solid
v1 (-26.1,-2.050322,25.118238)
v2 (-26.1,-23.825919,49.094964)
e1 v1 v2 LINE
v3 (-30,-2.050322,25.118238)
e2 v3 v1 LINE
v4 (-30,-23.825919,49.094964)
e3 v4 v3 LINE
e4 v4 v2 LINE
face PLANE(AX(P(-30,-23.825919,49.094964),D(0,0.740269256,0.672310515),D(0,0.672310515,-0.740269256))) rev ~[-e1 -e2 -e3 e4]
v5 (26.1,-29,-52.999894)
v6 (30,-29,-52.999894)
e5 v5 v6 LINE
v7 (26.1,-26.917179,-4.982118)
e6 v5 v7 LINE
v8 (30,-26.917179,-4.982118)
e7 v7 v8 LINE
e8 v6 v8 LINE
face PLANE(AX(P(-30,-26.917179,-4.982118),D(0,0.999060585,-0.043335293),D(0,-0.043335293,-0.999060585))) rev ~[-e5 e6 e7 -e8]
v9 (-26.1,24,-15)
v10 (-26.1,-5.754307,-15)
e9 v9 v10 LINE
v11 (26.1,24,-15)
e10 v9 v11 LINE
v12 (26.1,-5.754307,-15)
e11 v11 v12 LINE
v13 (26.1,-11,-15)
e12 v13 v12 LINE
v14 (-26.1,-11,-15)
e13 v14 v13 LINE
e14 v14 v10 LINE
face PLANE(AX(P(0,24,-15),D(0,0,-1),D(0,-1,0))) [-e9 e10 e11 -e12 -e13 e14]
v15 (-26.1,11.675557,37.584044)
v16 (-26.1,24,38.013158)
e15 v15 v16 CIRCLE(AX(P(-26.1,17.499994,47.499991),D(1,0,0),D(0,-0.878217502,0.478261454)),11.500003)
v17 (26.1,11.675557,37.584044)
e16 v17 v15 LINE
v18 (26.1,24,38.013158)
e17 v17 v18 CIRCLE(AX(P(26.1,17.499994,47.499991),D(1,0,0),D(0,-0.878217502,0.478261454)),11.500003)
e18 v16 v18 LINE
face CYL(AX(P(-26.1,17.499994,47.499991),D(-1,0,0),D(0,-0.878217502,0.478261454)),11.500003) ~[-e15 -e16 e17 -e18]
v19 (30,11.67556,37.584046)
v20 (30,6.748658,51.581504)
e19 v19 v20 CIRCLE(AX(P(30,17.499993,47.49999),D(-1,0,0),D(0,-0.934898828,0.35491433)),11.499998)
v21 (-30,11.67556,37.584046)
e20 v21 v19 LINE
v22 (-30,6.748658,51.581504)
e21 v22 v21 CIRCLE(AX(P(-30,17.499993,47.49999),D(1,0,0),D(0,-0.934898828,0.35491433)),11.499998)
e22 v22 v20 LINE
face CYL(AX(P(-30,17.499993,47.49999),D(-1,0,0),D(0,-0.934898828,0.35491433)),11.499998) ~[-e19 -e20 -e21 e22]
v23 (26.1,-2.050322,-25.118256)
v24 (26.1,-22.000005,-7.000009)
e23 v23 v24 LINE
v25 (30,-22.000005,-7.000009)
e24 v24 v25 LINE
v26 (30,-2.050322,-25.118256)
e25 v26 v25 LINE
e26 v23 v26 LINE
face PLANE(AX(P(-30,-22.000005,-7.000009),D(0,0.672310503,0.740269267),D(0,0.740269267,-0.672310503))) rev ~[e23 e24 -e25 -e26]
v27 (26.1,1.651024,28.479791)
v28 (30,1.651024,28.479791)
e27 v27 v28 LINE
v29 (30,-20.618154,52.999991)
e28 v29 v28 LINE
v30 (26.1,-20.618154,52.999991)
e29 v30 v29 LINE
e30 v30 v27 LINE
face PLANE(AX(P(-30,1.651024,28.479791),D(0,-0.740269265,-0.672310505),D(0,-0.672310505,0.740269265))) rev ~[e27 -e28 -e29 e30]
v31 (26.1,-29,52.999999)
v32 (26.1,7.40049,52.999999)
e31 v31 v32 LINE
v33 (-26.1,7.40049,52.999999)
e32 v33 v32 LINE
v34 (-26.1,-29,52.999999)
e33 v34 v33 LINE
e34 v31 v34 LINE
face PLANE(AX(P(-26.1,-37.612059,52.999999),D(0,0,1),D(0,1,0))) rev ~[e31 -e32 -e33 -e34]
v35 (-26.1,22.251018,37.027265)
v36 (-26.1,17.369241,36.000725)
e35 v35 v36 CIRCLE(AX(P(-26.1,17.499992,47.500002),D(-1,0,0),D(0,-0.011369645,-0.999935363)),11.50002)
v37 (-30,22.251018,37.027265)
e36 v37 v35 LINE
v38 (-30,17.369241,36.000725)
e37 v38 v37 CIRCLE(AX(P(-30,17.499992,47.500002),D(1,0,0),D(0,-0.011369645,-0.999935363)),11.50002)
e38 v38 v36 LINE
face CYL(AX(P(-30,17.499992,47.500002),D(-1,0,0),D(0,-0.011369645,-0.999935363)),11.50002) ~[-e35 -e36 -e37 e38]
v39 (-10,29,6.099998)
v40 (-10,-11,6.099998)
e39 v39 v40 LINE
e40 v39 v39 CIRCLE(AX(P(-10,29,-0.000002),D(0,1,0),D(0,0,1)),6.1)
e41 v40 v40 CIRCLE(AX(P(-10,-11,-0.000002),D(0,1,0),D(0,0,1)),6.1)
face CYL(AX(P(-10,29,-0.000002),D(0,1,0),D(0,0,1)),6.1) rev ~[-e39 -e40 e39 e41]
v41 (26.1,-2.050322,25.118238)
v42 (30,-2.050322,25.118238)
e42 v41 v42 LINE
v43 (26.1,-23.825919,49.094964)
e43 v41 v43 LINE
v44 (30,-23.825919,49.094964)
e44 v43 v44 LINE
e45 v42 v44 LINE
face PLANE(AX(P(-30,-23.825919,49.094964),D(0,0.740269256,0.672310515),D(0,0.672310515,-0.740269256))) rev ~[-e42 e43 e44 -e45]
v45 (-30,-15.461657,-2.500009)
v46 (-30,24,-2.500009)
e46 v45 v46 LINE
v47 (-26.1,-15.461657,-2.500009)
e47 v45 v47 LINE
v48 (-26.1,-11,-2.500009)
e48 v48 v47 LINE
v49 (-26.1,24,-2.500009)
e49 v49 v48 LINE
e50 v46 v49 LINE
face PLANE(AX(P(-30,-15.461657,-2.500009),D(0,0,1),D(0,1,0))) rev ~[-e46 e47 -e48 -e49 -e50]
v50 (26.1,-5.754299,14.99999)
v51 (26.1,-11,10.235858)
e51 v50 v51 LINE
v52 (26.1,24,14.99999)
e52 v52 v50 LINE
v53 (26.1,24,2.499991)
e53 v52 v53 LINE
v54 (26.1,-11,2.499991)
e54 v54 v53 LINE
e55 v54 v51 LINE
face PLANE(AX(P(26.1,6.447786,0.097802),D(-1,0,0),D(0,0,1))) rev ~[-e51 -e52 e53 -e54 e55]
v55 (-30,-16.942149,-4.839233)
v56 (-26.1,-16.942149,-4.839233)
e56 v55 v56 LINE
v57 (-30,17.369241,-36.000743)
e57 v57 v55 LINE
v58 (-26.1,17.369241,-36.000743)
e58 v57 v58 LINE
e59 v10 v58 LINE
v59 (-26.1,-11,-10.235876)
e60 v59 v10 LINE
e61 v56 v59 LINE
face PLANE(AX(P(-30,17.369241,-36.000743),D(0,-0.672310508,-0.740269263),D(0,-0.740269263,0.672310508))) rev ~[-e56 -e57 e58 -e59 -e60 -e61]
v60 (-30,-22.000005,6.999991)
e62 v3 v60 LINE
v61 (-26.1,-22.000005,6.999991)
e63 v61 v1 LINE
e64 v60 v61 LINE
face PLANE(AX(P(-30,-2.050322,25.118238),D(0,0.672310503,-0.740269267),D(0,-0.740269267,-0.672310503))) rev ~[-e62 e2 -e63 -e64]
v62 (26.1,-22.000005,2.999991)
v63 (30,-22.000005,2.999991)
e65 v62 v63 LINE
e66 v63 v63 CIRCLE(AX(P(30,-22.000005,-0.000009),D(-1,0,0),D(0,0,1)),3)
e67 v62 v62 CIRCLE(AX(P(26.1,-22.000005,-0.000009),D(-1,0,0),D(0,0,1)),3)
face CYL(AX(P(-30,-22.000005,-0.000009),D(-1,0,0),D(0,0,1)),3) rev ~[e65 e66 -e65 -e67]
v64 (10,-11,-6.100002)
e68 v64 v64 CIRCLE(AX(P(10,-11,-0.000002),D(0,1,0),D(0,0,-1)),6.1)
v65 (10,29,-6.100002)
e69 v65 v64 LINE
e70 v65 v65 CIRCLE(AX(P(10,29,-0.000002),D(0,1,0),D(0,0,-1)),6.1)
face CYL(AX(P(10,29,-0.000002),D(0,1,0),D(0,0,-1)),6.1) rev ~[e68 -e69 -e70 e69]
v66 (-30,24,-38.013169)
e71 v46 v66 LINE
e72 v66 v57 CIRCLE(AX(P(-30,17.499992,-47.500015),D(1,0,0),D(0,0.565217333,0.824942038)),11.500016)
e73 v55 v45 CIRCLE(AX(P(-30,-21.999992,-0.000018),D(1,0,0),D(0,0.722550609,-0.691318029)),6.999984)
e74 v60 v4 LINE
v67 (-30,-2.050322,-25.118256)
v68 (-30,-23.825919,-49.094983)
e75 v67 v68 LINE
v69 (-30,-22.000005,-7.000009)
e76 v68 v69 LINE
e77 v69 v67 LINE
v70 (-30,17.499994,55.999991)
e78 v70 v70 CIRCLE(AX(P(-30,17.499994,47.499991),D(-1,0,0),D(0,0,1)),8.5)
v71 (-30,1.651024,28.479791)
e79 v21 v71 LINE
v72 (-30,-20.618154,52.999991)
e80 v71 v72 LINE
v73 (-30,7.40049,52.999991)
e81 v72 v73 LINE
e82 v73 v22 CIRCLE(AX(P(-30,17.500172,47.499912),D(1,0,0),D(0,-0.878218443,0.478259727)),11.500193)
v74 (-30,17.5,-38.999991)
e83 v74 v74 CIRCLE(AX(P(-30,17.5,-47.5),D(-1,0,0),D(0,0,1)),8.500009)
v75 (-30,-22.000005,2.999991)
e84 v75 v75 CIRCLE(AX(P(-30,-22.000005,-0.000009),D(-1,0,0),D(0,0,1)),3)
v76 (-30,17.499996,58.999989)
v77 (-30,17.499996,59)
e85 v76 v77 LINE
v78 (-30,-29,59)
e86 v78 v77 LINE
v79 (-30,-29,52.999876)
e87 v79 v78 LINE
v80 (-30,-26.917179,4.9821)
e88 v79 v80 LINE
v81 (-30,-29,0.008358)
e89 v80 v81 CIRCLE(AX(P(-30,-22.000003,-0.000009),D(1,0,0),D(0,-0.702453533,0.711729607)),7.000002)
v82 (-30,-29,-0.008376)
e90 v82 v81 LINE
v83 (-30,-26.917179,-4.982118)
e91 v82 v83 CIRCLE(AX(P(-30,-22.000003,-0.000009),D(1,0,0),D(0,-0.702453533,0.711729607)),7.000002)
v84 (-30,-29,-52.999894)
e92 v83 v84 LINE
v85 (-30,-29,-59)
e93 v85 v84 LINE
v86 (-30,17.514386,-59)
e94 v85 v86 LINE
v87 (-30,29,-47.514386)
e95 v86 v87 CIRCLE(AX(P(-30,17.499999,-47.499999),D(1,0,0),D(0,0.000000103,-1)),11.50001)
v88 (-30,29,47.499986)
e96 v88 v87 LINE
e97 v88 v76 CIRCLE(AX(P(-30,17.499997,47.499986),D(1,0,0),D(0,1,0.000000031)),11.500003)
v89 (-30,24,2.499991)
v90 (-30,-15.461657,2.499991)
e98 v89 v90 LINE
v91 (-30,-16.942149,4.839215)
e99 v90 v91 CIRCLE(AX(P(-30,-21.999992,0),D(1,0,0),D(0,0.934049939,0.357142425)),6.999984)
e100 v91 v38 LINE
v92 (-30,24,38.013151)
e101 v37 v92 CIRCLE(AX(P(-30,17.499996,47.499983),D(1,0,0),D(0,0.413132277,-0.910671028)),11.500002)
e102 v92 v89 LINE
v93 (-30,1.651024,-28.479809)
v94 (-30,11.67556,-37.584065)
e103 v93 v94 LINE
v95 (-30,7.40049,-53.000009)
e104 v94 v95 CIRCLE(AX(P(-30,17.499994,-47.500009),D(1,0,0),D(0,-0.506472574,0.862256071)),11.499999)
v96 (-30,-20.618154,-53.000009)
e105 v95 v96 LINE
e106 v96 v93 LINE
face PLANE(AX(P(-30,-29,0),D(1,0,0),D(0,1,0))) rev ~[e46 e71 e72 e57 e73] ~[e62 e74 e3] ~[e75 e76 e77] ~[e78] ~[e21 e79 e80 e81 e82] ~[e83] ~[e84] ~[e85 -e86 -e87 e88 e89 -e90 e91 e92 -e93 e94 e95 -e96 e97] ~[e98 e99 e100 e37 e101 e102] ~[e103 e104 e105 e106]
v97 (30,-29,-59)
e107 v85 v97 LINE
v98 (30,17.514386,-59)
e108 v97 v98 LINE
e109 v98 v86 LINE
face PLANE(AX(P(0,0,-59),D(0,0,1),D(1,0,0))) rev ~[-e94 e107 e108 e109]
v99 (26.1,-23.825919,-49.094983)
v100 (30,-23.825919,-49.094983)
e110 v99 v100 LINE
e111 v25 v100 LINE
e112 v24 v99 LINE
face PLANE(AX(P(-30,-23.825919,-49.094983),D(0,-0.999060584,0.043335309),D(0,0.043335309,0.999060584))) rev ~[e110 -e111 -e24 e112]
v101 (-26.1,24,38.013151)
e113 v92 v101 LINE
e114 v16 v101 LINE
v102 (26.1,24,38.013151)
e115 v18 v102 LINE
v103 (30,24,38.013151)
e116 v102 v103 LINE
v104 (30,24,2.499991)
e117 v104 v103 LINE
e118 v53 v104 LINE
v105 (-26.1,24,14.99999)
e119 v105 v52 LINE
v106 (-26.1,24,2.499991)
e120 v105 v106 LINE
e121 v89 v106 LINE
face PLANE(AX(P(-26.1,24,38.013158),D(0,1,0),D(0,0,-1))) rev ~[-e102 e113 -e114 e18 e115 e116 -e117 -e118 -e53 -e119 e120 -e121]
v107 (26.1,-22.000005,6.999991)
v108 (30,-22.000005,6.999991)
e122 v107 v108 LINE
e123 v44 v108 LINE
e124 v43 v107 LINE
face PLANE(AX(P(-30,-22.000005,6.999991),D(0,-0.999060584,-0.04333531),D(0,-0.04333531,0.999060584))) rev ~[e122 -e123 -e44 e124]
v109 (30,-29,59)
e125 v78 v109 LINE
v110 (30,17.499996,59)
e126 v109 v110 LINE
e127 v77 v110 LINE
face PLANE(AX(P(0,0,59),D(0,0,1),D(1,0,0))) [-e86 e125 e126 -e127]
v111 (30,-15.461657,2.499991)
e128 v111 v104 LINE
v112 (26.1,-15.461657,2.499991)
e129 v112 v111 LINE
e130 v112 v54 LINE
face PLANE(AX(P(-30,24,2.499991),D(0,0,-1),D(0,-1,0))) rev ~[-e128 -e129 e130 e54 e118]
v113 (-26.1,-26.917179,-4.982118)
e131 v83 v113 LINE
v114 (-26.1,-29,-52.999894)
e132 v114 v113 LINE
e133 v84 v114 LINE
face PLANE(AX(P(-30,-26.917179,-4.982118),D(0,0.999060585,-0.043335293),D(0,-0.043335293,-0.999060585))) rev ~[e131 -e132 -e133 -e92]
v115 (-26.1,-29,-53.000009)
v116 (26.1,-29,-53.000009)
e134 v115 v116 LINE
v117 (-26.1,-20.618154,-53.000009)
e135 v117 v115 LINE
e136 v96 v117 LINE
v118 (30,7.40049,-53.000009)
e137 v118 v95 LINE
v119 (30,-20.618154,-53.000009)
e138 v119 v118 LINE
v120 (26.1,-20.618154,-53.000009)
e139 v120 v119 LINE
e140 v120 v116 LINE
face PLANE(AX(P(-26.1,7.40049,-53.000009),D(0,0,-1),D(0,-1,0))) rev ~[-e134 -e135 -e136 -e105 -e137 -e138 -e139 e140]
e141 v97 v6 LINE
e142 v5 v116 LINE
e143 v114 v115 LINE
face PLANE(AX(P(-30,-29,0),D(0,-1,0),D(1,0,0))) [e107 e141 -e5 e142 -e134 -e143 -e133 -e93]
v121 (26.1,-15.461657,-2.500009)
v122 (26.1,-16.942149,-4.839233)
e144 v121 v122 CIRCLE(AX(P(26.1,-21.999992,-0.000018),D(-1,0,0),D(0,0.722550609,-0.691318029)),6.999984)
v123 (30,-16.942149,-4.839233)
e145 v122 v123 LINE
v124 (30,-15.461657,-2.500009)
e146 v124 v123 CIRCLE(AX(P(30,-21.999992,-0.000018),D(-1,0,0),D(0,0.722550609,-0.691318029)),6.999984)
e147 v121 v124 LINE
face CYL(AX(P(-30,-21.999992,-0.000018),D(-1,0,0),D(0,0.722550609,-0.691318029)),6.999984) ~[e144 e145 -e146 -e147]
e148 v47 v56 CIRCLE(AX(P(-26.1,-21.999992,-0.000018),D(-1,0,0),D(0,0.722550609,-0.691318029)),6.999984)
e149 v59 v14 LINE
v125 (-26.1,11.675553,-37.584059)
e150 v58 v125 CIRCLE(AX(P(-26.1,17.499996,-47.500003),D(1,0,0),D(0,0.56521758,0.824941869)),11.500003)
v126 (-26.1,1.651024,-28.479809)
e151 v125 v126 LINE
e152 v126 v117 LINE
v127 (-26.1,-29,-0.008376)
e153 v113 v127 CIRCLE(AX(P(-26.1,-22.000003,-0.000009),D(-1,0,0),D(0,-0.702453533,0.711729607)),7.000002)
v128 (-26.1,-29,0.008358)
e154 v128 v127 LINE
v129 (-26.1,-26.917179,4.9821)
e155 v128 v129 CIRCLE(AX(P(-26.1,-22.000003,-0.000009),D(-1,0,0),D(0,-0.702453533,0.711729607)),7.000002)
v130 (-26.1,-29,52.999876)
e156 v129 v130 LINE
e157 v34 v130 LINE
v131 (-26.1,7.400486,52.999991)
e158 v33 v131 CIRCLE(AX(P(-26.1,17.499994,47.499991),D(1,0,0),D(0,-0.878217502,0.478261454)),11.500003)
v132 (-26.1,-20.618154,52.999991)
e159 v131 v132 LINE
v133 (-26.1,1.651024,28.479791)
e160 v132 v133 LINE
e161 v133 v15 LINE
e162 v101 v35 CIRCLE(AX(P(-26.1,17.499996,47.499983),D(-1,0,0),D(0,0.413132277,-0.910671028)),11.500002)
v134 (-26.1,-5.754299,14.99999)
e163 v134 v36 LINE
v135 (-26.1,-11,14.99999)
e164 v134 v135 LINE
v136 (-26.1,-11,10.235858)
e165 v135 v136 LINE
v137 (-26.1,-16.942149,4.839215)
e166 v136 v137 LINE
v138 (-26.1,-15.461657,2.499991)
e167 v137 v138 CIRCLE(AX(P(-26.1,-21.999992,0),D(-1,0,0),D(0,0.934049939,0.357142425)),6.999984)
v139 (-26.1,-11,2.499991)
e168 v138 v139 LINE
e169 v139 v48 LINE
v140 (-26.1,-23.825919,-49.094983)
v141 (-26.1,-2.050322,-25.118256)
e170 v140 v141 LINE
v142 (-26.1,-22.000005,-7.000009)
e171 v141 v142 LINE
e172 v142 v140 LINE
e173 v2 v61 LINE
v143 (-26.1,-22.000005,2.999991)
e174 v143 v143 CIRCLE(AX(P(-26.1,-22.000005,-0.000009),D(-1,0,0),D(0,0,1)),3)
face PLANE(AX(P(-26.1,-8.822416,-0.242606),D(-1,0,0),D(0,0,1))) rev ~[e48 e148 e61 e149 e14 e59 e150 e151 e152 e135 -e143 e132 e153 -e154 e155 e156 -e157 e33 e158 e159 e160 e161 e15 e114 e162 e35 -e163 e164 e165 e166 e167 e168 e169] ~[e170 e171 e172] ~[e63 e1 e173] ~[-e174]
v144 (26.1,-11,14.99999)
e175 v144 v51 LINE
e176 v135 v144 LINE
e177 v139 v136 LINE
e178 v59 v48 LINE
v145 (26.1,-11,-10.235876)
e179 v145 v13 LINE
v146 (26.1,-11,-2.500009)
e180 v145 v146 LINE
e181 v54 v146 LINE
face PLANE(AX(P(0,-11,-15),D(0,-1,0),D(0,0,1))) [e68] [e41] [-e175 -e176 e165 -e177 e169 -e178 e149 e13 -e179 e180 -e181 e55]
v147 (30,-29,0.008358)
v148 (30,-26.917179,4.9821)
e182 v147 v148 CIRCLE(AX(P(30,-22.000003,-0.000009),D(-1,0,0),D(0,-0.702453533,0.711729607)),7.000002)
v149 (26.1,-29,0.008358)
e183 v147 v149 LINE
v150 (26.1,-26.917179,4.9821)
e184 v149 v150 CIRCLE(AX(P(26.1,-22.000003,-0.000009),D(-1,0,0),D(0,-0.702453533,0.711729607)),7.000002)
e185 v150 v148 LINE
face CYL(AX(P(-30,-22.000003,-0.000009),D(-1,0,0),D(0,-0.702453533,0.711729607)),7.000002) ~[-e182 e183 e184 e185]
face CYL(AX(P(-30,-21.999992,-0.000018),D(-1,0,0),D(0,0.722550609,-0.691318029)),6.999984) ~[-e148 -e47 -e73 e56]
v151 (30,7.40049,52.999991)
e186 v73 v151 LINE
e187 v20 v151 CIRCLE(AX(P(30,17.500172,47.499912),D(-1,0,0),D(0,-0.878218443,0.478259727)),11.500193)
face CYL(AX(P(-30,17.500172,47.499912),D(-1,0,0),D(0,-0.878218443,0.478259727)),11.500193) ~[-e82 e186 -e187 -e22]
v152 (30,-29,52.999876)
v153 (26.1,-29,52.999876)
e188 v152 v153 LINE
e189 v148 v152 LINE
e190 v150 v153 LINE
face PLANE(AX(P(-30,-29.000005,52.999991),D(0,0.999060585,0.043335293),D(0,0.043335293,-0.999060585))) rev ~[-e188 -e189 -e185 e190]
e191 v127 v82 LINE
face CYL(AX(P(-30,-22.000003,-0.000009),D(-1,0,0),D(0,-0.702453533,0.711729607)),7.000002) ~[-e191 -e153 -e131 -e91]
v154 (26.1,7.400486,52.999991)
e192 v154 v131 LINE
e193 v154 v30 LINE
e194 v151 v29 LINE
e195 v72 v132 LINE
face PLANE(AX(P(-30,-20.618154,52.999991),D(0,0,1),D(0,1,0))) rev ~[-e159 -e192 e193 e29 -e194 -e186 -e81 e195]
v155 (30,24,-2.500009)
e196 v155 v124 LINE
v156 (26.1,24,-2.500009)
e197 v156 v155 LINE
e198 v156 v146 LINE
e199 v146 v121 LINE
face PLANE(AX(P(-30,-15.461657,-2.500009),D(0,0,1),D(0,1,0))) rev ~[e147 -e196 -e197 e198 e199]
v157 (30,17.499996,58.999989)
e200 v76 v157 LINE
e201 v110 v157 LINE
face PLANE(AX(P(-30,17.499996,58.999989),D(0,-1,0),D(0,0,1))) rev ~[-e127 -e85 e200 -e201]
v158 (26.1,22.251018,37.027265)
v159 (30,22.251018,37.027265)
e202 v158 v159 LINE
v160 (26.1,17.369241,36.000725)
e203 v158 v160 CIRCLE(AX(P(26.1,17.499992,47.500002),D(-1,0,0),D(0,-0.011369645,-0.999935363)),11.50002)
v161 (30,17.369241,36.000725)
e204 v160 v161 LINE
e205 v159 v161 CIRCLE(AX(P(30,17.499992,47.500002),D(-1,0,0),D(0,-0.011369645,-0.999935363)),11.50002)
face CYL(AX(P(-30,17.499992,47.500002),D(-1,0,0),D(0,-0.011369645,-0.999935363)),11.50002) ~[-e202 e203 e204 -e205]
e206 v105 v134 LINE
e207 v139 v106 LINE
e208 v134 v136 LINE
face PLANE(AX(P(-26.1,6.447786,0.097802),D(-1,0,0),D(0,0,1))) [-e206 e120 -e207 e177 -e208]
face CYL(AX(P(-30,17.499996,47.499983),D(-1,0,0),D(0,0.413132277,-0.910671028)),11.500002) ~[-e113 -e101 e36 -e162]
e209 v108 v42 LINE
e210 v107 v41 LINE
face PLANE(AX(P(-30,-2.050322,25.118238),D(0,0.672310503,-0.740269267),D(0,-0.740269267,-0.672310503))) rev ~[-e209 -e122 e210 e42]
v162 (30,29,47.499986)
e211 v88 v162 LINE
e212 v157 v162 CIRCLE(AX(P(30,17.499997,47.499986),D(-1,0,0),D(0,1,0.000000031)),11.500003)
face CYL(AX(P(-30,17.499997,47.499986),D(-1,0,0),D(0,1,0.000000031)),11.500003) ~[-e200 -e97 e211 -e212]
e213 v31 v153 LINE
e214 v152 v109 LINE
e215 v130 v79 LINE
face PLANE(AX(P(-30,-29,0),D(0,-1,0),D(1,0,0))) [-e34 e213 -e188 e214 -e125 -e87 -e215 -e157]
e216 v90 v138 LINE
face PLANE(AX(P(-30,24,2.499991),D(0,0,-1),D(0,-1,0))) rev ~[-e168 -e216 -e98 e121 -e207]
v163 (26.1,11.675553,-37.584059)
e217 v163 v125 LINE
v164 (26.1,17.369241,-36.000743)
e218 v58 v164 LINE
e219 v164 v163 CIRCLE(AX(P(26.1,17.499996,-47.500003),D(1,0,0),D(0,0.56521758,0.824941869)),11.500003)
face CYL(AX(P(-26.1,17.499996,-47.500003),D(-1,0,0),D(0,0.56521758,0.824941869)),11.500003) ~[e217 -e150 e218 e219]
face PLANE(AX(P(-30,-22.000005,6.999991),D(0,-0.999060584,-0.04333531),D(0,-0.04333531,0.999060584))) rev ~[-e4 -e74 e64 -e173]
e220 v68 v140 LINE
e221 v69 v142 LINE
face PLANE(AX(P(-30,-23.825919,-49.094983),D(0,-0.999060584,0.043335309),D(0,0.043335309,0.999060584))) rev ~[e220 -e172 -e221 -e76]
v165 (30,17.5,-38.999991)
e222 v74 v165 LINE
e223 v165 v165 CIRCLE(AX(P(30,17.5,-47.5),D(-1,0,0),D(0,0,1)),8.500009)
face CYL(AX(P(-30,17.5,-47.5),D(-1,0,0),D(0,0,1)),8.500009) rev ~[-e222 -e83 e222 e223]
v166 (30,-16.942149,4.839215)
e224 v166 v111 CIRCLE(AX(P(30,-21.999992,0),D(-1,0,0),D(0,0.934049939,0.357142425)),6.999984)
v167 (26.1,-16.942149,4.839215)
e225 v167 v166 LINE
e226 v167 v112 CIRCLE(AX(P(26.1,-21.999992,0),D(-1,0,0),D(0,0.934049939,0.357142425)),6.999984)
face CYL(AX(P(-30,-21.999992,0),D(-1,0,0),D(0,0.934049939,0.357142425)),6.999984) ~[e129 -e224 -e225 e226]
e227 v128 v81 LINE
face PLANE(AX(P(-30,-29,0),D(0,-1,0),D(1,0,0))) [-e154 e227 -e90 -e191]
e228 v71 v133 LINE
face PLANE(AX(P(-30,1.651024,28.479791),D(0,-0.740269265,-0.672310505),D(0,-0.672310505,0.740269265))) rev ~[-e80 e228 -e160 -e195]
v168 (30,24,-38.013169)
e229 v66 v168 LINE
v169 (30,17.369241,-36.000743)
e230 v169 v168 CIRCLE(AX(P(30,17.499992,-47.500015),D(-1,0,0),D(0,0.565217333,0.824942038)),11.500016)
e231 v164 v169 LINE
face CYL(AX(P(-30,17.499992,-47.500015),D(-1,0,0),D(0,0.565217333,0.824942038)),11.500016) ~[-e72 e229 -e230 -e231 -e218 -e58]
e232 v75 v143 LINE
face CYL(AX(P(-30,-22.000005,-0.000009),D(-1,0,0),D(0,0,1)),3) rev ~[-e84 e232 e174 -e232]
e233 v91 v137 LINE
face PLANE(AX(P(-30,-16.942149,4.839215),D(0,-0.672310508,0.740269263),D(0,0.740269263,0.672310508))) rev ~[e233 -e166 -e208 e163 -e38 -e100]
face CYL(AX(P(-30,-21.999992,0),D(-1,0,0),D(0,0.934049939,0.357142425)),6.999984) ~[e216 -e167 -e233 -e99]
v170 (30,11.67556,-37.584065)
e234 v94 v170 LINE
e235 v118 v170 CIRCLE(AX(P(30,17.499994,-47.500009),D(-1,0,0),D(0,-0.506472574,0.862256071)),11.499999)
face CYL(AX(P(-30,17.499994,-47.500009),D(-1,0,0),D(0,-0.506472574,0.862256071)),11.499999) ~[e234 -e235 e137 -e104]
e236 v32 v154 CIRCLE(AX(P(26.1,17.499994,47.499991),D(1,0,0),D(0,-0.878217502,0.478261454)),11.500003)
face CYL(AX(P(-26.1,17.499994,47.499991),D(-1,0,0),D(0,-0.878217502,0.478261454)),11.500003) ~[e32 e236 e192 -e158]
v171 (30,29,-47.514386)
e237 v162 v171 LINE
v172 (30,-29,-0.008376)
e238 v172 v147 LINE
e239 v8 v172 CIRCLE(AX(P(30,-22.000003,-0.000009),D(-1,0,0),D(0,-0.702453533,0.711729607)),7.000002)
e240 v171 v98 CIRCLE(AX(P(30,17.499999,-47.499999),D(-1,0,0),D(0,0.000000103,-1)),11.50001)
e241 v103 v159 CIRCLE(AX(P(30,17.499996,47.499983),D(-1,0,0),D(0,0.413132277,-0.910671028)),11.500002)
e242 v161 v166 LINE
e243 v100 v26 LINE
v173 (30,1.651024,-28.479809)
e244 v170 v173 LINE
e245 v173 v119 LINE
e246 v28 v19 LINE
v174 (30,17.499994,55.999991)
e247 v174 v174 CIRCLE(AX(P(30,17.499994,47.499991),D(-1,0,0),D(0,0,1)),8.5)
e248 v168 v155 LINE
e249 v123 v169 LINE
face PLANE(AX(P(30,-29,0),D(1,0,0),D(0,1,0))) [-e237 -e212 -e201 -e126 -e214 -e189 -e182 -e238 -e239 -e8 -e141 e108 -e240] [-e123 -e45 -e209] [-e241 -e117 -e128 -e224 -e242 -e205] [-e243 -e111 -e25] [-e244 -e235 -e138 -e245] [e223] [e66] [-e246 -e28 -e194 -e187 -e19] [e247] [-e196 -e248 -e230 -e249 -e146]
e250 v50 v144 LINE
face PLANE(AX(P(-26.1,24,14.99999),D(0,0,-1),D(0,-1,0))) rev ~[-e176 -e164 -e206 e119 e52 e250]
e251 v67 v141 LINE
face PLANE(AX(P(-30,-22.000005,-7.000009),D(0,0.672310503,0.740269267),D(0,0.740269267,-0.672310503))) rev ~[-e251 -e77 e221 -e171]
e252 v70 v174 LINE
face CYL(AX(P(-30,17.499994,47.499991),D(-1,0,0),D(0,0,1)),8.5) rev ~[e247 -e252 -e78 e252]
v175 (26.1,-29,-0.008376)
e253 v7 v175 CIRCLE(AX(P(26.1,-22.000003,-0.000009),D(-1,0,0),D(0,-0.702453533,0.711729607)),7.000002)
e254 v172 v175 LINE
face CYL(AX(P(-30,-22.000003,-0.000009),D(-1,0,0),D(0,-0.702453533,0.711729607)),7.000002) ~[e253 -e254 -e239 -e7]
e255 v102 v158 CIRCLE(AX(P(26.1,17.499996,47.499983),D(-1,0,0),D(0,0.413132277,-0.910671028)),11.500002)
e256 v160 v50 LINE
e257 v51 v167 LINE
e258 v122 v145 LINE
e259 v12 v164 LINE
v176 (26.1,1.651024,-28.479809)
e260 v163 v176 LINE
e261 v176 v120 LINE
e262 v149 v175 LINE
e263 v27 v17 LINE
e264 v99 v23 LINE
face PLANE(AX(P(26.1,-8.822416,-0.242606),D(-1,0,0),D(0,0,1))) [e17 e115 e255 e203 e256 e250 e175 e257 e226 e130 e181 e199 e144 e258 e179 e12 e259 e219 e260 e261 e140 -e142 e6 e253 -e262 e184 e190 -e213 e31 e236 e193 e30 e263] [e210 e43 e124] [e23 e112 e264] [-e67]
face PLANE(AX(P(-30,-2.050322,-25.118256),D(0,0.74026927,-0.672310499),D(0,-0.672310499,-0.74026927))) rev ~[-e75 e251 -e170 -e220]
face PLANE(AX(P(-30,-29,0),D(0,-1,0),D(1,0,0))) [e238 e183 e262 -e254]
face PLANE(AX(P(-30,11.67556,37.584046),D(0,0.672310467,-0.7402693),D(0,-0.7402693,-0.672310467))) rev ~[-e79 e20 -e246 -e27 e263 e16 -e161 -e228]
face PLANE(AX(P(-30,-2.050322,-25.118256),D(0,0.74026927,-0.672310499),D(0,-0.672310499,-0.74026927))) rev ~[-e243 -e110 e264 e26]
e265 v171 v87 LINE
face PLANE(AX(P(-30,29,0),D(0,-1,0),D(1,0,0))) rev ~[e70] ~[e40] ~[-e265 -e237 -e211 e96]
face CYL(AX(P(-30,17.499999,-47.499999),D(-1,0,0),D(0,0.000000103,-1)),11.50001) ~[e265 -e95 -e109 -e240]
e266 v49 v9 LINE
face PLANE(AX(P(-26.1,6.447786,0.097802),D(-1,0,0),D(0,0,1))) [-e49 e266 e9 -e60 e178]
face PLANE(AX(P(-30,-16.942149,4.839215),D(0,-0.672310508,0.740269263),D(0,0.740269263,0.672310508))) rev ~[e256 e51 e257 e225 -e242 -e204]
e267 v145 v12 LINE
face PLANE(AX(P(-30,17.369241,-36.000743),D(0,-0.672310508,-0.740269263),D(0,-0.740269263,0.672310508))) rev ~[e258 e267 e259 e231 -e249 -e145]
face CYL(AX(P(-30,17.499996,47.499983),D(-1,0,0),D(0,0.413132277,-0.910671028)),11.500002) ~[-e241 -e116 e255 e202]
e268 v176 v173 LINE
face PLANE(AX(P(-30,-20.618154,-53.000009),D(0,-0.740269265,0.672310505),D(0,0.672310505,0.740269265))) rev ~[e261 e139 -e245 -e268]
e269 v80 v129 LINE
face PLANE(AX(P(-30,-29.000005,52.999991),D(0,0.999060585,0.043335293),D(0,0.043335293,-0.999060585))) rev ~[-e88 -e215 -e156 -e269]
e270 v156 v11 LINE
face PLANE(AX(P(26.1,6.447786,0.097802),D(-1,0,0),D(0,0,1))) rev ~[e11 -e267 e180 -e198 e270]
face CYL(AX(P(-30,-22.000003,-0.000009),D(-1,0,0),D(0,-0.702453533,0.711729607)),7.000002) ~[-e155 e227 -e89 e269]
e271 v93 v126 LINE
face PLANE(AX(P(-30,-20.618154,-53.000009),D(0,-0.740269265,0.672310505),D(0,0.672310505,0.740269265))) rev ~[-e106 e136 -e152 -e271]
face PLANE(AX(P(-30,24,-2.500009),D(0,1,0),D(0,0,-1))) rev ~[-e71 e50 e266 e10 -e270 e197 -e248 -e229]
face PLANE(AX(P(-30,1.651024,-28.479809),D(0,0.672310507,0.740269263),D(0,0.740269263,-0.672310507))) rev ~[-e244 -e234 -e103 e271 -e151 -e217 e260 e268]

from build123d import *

# Parameters (mm, degrees)
SKETCH4_W           = 60
SKETCH4_H           = 58
BOSS_EXTRUDE2_DEPTH = 59
SKETCH6_R           = 8.500009
SKETCH6_R_2         = 3
SKETCH6_R_3         = 8.5
CUT_EXTRUDE2_DEPTH  = 90.005618
BOSS_EXTRUDE3_START = -30
BOSS_EXTRUDE3_DEPTH = 26.1
CUT_EXTRUDE7_DEPTH  = 52.2
SKETCH9_R           = 6.1
CUT_EXTRUDE8_DEPTH  = 89.005682


with BuildPart() as part:
    # Sketch4 → Boss-Extrude2 (new, symmetric)
    with BuildSketch(Plane.XY):
        Rectangle(SKETCH4_W, SKETCH4_H)
    extrude(amount=BOSS_EXTRUDE2_DEPTH, both=True)

    # Sketch6 → Cut-Extrude2 (cut, through all)
    with BuildSketch(Plane.ZY.offset(30)):
        with BuildLine():
            ThreePointArc((-38.013169, 24), (-36.495651, 20.839801), (-36.000743, 17.369241))
            Line((-36.000743, 17.369241), (-4.839233, -16.942149))
            ThreePointArc((-4.839233, -16.942149), (-3.743539, -16.08511), (-2.500009, -15.461657))
            Line((-2.500009, -15.461657), (-2.500009, 24))
            Line((-2.500009, 24), (-38.013169, 24))
        make_face()
        with BuildLine():
            Line((-28.479809, 1.651024), (-37.584065, 11.67556))
            ThreePointArc((-37.584065, 11.67556), (-44.426868, 6.418217), (-53.000009, 7.40049))
            Line((-53.000009, 7.40049), (-53.000009, -20.618154))
            Line((-53.000009, -20.618154), (-28.479809, 1.651024))
        make_face()
        Polygon((-7.000009, -22.000005), (-25.118256, -2.050322), (-49.094983, -23.825919), align=None)
        with BuildLine():
            ThreePointArc((4.9821, -26.917179), (-9e-06, -29.000005), (-4.982118, -26.917179))
            Line((-4.982118, -26.917179), (-53.000009, -29.000005))
            Line((-53.000009, -29.000005), (-53.000009, -39.703251))
            Line((-53.000009, -39.703251), (52.999991, -37.936887))
            Line((52.999991, -37.936887), (52.999991, -29.000005))
            Line((52.999991, -29.000005), (4.9821, -26.917179))
        make_face()
        with BuildLine():
            ThreePointArc((37.027265, 22.251018), (37.481967, 23.147065), (38.013151, 24))
            Line((38.013151, 24), (2.499991, 24))
            Line((2.499991, 24), (2.499991, -15.461657))
            ThreePointArc((2.499991, -15.461657), (3.743521, -16.08511), (4.839215, -16.942149))
            Line((4.839215, -16.942149), (36.000725, 17.369241))
            ThreePointArc((36.000725, 17.369241), (36.246101, 19.866462), (37.027265, 22.251018))
        make_face()
        Polygon((6.999991, -22.000005), (49.094964, -23.825919), (25.118238, -2.050322), align=None)
        with BuildLine():
            Line((37.584046, 11.67556), (28.479791, 1.651024))
            Line((28.479791, 1.651024), (52.999991, -20.618154))
            Line((52.999991, -20.618154), (52.999991, 7.40049))
            ThreePointArc((52.999991, 7.40049), (52.30182, 7.050477), (51.581504, 6.748658))
            ThreePointArc((51.581504, 6.748658), (43.681779, 6.652356), (37.584046, 11.67556))
        make_face()
        with BuildLine():
            ThreePointArc((-59.000009, 17.5), (-55.631734, 25.631734), (-47.5, 29.000009))
            Line((-47.5, 29.000009), (-47.5, 35.726664))
            Line((-47.5, 35.726664), (-66.854255, 35.726664))
            Line((-66.854255, 35.726664), (-66.147279, 17.5))
            Line((-66.147279, 17.5), (-59.000009, 17.5))
        make_face()
        with BuildLine():
            Line((47.076133, 34.936715), (47.499986, 29))
            ThreePointArc((47.499986, 29), (55.631716, 25.631727), (58.999989, 17.499996))
            Line((58.999989, 17.499996), (67.171398, 17.499996))
            Line((67.171398, 17.499996), (67.171398, 34.57466))
            Line((67.171398, 34.57466), (47.076133, 34.936715))
        make_face()
        with Locations((-47.5, 17.5)):
            Circle(SKETCH6_R)
        with Locations((-9e-06, -22.000005)):
            Circle(SKETCH6_R_2)
        with Locations((47.499991, 17.499994)):
            Circle(SKETCH6_R_3)
    extrude(amount=-CUT_EXTRUDE2_DEPTH, mode=Mode.SUBTRACT)

    # Sketch7 → Boss-Extrude3 (add, symmetric)
    with BuildSketch(Plane.ZY.offset(30).offset(BOSS_EXTRUDE3_START)):
        Polygon((-15, 24), (-15, -11), (15.389045, -11), (15, 24), align=None)
    extrude(amount=BOSS_EXTRUDE3_DEPTH, both=True)

    # Sketch8 → Cut-Extrude7 (cut)
    with BuildSketch(Plane.ZY.offset(26.1)):
        with BuildLine():
            Line((-15, 24), (-38.013169, 24))
            ThreePointArc((-38.013169, 24), (-38.964218, 9.793476), (-53.000009, 7.40049))
            Line((-53.000009, 7.40049), (-53.000009, -24.011121))
            Line((-53.000009, -24.011121), (-53.000009, -39.458207))
            Line((-53.000009, -39.458207), (52.999999, -37.612059))
            Line((52.999999, -37.612059), (52.999999, -24.011121))
            Line((52.999999, -24.011121), (52.999999, 7.40049))
            ThreePointArc((52.999999, 7.40049), (38.964206, 9.793474), (38.013158, 24))
            Line((38.013158, 24), (14.99999, 24))
            Line((14.99999, 24), (14.99999, -11))
            Line((14.99999, -11), (-14.201079, -11))
            Line((-14.201079, -11), (-15, -11))
            Line((-15, -11), (-15, 24))
        make_face()
    extrude(amount=-CUT_EXTRUDE7_DEPTH, mode=Mode.SUBTRACT)

    # Sketch9 → Cut-Extrude8 (cut, through all)
    with BuildSketch(Plane(origin=(0, 29, 0), x_dir=(1, 0, 0), z_dir=(0, 1, 0))):
        with Locations(Location((-10, 2e-06, 0), (0, 0, 270))):
            Circle(SKETCH9_R)
        with Locations(Location((10, 2e-06, 0), (0, 0, 90))):
            Circle(SKETCH9_R)
    extrude(amount=-CUT_EXTRUDE8_DEPTH, mode=Mode.SUBTRACT)


solid = part.part
